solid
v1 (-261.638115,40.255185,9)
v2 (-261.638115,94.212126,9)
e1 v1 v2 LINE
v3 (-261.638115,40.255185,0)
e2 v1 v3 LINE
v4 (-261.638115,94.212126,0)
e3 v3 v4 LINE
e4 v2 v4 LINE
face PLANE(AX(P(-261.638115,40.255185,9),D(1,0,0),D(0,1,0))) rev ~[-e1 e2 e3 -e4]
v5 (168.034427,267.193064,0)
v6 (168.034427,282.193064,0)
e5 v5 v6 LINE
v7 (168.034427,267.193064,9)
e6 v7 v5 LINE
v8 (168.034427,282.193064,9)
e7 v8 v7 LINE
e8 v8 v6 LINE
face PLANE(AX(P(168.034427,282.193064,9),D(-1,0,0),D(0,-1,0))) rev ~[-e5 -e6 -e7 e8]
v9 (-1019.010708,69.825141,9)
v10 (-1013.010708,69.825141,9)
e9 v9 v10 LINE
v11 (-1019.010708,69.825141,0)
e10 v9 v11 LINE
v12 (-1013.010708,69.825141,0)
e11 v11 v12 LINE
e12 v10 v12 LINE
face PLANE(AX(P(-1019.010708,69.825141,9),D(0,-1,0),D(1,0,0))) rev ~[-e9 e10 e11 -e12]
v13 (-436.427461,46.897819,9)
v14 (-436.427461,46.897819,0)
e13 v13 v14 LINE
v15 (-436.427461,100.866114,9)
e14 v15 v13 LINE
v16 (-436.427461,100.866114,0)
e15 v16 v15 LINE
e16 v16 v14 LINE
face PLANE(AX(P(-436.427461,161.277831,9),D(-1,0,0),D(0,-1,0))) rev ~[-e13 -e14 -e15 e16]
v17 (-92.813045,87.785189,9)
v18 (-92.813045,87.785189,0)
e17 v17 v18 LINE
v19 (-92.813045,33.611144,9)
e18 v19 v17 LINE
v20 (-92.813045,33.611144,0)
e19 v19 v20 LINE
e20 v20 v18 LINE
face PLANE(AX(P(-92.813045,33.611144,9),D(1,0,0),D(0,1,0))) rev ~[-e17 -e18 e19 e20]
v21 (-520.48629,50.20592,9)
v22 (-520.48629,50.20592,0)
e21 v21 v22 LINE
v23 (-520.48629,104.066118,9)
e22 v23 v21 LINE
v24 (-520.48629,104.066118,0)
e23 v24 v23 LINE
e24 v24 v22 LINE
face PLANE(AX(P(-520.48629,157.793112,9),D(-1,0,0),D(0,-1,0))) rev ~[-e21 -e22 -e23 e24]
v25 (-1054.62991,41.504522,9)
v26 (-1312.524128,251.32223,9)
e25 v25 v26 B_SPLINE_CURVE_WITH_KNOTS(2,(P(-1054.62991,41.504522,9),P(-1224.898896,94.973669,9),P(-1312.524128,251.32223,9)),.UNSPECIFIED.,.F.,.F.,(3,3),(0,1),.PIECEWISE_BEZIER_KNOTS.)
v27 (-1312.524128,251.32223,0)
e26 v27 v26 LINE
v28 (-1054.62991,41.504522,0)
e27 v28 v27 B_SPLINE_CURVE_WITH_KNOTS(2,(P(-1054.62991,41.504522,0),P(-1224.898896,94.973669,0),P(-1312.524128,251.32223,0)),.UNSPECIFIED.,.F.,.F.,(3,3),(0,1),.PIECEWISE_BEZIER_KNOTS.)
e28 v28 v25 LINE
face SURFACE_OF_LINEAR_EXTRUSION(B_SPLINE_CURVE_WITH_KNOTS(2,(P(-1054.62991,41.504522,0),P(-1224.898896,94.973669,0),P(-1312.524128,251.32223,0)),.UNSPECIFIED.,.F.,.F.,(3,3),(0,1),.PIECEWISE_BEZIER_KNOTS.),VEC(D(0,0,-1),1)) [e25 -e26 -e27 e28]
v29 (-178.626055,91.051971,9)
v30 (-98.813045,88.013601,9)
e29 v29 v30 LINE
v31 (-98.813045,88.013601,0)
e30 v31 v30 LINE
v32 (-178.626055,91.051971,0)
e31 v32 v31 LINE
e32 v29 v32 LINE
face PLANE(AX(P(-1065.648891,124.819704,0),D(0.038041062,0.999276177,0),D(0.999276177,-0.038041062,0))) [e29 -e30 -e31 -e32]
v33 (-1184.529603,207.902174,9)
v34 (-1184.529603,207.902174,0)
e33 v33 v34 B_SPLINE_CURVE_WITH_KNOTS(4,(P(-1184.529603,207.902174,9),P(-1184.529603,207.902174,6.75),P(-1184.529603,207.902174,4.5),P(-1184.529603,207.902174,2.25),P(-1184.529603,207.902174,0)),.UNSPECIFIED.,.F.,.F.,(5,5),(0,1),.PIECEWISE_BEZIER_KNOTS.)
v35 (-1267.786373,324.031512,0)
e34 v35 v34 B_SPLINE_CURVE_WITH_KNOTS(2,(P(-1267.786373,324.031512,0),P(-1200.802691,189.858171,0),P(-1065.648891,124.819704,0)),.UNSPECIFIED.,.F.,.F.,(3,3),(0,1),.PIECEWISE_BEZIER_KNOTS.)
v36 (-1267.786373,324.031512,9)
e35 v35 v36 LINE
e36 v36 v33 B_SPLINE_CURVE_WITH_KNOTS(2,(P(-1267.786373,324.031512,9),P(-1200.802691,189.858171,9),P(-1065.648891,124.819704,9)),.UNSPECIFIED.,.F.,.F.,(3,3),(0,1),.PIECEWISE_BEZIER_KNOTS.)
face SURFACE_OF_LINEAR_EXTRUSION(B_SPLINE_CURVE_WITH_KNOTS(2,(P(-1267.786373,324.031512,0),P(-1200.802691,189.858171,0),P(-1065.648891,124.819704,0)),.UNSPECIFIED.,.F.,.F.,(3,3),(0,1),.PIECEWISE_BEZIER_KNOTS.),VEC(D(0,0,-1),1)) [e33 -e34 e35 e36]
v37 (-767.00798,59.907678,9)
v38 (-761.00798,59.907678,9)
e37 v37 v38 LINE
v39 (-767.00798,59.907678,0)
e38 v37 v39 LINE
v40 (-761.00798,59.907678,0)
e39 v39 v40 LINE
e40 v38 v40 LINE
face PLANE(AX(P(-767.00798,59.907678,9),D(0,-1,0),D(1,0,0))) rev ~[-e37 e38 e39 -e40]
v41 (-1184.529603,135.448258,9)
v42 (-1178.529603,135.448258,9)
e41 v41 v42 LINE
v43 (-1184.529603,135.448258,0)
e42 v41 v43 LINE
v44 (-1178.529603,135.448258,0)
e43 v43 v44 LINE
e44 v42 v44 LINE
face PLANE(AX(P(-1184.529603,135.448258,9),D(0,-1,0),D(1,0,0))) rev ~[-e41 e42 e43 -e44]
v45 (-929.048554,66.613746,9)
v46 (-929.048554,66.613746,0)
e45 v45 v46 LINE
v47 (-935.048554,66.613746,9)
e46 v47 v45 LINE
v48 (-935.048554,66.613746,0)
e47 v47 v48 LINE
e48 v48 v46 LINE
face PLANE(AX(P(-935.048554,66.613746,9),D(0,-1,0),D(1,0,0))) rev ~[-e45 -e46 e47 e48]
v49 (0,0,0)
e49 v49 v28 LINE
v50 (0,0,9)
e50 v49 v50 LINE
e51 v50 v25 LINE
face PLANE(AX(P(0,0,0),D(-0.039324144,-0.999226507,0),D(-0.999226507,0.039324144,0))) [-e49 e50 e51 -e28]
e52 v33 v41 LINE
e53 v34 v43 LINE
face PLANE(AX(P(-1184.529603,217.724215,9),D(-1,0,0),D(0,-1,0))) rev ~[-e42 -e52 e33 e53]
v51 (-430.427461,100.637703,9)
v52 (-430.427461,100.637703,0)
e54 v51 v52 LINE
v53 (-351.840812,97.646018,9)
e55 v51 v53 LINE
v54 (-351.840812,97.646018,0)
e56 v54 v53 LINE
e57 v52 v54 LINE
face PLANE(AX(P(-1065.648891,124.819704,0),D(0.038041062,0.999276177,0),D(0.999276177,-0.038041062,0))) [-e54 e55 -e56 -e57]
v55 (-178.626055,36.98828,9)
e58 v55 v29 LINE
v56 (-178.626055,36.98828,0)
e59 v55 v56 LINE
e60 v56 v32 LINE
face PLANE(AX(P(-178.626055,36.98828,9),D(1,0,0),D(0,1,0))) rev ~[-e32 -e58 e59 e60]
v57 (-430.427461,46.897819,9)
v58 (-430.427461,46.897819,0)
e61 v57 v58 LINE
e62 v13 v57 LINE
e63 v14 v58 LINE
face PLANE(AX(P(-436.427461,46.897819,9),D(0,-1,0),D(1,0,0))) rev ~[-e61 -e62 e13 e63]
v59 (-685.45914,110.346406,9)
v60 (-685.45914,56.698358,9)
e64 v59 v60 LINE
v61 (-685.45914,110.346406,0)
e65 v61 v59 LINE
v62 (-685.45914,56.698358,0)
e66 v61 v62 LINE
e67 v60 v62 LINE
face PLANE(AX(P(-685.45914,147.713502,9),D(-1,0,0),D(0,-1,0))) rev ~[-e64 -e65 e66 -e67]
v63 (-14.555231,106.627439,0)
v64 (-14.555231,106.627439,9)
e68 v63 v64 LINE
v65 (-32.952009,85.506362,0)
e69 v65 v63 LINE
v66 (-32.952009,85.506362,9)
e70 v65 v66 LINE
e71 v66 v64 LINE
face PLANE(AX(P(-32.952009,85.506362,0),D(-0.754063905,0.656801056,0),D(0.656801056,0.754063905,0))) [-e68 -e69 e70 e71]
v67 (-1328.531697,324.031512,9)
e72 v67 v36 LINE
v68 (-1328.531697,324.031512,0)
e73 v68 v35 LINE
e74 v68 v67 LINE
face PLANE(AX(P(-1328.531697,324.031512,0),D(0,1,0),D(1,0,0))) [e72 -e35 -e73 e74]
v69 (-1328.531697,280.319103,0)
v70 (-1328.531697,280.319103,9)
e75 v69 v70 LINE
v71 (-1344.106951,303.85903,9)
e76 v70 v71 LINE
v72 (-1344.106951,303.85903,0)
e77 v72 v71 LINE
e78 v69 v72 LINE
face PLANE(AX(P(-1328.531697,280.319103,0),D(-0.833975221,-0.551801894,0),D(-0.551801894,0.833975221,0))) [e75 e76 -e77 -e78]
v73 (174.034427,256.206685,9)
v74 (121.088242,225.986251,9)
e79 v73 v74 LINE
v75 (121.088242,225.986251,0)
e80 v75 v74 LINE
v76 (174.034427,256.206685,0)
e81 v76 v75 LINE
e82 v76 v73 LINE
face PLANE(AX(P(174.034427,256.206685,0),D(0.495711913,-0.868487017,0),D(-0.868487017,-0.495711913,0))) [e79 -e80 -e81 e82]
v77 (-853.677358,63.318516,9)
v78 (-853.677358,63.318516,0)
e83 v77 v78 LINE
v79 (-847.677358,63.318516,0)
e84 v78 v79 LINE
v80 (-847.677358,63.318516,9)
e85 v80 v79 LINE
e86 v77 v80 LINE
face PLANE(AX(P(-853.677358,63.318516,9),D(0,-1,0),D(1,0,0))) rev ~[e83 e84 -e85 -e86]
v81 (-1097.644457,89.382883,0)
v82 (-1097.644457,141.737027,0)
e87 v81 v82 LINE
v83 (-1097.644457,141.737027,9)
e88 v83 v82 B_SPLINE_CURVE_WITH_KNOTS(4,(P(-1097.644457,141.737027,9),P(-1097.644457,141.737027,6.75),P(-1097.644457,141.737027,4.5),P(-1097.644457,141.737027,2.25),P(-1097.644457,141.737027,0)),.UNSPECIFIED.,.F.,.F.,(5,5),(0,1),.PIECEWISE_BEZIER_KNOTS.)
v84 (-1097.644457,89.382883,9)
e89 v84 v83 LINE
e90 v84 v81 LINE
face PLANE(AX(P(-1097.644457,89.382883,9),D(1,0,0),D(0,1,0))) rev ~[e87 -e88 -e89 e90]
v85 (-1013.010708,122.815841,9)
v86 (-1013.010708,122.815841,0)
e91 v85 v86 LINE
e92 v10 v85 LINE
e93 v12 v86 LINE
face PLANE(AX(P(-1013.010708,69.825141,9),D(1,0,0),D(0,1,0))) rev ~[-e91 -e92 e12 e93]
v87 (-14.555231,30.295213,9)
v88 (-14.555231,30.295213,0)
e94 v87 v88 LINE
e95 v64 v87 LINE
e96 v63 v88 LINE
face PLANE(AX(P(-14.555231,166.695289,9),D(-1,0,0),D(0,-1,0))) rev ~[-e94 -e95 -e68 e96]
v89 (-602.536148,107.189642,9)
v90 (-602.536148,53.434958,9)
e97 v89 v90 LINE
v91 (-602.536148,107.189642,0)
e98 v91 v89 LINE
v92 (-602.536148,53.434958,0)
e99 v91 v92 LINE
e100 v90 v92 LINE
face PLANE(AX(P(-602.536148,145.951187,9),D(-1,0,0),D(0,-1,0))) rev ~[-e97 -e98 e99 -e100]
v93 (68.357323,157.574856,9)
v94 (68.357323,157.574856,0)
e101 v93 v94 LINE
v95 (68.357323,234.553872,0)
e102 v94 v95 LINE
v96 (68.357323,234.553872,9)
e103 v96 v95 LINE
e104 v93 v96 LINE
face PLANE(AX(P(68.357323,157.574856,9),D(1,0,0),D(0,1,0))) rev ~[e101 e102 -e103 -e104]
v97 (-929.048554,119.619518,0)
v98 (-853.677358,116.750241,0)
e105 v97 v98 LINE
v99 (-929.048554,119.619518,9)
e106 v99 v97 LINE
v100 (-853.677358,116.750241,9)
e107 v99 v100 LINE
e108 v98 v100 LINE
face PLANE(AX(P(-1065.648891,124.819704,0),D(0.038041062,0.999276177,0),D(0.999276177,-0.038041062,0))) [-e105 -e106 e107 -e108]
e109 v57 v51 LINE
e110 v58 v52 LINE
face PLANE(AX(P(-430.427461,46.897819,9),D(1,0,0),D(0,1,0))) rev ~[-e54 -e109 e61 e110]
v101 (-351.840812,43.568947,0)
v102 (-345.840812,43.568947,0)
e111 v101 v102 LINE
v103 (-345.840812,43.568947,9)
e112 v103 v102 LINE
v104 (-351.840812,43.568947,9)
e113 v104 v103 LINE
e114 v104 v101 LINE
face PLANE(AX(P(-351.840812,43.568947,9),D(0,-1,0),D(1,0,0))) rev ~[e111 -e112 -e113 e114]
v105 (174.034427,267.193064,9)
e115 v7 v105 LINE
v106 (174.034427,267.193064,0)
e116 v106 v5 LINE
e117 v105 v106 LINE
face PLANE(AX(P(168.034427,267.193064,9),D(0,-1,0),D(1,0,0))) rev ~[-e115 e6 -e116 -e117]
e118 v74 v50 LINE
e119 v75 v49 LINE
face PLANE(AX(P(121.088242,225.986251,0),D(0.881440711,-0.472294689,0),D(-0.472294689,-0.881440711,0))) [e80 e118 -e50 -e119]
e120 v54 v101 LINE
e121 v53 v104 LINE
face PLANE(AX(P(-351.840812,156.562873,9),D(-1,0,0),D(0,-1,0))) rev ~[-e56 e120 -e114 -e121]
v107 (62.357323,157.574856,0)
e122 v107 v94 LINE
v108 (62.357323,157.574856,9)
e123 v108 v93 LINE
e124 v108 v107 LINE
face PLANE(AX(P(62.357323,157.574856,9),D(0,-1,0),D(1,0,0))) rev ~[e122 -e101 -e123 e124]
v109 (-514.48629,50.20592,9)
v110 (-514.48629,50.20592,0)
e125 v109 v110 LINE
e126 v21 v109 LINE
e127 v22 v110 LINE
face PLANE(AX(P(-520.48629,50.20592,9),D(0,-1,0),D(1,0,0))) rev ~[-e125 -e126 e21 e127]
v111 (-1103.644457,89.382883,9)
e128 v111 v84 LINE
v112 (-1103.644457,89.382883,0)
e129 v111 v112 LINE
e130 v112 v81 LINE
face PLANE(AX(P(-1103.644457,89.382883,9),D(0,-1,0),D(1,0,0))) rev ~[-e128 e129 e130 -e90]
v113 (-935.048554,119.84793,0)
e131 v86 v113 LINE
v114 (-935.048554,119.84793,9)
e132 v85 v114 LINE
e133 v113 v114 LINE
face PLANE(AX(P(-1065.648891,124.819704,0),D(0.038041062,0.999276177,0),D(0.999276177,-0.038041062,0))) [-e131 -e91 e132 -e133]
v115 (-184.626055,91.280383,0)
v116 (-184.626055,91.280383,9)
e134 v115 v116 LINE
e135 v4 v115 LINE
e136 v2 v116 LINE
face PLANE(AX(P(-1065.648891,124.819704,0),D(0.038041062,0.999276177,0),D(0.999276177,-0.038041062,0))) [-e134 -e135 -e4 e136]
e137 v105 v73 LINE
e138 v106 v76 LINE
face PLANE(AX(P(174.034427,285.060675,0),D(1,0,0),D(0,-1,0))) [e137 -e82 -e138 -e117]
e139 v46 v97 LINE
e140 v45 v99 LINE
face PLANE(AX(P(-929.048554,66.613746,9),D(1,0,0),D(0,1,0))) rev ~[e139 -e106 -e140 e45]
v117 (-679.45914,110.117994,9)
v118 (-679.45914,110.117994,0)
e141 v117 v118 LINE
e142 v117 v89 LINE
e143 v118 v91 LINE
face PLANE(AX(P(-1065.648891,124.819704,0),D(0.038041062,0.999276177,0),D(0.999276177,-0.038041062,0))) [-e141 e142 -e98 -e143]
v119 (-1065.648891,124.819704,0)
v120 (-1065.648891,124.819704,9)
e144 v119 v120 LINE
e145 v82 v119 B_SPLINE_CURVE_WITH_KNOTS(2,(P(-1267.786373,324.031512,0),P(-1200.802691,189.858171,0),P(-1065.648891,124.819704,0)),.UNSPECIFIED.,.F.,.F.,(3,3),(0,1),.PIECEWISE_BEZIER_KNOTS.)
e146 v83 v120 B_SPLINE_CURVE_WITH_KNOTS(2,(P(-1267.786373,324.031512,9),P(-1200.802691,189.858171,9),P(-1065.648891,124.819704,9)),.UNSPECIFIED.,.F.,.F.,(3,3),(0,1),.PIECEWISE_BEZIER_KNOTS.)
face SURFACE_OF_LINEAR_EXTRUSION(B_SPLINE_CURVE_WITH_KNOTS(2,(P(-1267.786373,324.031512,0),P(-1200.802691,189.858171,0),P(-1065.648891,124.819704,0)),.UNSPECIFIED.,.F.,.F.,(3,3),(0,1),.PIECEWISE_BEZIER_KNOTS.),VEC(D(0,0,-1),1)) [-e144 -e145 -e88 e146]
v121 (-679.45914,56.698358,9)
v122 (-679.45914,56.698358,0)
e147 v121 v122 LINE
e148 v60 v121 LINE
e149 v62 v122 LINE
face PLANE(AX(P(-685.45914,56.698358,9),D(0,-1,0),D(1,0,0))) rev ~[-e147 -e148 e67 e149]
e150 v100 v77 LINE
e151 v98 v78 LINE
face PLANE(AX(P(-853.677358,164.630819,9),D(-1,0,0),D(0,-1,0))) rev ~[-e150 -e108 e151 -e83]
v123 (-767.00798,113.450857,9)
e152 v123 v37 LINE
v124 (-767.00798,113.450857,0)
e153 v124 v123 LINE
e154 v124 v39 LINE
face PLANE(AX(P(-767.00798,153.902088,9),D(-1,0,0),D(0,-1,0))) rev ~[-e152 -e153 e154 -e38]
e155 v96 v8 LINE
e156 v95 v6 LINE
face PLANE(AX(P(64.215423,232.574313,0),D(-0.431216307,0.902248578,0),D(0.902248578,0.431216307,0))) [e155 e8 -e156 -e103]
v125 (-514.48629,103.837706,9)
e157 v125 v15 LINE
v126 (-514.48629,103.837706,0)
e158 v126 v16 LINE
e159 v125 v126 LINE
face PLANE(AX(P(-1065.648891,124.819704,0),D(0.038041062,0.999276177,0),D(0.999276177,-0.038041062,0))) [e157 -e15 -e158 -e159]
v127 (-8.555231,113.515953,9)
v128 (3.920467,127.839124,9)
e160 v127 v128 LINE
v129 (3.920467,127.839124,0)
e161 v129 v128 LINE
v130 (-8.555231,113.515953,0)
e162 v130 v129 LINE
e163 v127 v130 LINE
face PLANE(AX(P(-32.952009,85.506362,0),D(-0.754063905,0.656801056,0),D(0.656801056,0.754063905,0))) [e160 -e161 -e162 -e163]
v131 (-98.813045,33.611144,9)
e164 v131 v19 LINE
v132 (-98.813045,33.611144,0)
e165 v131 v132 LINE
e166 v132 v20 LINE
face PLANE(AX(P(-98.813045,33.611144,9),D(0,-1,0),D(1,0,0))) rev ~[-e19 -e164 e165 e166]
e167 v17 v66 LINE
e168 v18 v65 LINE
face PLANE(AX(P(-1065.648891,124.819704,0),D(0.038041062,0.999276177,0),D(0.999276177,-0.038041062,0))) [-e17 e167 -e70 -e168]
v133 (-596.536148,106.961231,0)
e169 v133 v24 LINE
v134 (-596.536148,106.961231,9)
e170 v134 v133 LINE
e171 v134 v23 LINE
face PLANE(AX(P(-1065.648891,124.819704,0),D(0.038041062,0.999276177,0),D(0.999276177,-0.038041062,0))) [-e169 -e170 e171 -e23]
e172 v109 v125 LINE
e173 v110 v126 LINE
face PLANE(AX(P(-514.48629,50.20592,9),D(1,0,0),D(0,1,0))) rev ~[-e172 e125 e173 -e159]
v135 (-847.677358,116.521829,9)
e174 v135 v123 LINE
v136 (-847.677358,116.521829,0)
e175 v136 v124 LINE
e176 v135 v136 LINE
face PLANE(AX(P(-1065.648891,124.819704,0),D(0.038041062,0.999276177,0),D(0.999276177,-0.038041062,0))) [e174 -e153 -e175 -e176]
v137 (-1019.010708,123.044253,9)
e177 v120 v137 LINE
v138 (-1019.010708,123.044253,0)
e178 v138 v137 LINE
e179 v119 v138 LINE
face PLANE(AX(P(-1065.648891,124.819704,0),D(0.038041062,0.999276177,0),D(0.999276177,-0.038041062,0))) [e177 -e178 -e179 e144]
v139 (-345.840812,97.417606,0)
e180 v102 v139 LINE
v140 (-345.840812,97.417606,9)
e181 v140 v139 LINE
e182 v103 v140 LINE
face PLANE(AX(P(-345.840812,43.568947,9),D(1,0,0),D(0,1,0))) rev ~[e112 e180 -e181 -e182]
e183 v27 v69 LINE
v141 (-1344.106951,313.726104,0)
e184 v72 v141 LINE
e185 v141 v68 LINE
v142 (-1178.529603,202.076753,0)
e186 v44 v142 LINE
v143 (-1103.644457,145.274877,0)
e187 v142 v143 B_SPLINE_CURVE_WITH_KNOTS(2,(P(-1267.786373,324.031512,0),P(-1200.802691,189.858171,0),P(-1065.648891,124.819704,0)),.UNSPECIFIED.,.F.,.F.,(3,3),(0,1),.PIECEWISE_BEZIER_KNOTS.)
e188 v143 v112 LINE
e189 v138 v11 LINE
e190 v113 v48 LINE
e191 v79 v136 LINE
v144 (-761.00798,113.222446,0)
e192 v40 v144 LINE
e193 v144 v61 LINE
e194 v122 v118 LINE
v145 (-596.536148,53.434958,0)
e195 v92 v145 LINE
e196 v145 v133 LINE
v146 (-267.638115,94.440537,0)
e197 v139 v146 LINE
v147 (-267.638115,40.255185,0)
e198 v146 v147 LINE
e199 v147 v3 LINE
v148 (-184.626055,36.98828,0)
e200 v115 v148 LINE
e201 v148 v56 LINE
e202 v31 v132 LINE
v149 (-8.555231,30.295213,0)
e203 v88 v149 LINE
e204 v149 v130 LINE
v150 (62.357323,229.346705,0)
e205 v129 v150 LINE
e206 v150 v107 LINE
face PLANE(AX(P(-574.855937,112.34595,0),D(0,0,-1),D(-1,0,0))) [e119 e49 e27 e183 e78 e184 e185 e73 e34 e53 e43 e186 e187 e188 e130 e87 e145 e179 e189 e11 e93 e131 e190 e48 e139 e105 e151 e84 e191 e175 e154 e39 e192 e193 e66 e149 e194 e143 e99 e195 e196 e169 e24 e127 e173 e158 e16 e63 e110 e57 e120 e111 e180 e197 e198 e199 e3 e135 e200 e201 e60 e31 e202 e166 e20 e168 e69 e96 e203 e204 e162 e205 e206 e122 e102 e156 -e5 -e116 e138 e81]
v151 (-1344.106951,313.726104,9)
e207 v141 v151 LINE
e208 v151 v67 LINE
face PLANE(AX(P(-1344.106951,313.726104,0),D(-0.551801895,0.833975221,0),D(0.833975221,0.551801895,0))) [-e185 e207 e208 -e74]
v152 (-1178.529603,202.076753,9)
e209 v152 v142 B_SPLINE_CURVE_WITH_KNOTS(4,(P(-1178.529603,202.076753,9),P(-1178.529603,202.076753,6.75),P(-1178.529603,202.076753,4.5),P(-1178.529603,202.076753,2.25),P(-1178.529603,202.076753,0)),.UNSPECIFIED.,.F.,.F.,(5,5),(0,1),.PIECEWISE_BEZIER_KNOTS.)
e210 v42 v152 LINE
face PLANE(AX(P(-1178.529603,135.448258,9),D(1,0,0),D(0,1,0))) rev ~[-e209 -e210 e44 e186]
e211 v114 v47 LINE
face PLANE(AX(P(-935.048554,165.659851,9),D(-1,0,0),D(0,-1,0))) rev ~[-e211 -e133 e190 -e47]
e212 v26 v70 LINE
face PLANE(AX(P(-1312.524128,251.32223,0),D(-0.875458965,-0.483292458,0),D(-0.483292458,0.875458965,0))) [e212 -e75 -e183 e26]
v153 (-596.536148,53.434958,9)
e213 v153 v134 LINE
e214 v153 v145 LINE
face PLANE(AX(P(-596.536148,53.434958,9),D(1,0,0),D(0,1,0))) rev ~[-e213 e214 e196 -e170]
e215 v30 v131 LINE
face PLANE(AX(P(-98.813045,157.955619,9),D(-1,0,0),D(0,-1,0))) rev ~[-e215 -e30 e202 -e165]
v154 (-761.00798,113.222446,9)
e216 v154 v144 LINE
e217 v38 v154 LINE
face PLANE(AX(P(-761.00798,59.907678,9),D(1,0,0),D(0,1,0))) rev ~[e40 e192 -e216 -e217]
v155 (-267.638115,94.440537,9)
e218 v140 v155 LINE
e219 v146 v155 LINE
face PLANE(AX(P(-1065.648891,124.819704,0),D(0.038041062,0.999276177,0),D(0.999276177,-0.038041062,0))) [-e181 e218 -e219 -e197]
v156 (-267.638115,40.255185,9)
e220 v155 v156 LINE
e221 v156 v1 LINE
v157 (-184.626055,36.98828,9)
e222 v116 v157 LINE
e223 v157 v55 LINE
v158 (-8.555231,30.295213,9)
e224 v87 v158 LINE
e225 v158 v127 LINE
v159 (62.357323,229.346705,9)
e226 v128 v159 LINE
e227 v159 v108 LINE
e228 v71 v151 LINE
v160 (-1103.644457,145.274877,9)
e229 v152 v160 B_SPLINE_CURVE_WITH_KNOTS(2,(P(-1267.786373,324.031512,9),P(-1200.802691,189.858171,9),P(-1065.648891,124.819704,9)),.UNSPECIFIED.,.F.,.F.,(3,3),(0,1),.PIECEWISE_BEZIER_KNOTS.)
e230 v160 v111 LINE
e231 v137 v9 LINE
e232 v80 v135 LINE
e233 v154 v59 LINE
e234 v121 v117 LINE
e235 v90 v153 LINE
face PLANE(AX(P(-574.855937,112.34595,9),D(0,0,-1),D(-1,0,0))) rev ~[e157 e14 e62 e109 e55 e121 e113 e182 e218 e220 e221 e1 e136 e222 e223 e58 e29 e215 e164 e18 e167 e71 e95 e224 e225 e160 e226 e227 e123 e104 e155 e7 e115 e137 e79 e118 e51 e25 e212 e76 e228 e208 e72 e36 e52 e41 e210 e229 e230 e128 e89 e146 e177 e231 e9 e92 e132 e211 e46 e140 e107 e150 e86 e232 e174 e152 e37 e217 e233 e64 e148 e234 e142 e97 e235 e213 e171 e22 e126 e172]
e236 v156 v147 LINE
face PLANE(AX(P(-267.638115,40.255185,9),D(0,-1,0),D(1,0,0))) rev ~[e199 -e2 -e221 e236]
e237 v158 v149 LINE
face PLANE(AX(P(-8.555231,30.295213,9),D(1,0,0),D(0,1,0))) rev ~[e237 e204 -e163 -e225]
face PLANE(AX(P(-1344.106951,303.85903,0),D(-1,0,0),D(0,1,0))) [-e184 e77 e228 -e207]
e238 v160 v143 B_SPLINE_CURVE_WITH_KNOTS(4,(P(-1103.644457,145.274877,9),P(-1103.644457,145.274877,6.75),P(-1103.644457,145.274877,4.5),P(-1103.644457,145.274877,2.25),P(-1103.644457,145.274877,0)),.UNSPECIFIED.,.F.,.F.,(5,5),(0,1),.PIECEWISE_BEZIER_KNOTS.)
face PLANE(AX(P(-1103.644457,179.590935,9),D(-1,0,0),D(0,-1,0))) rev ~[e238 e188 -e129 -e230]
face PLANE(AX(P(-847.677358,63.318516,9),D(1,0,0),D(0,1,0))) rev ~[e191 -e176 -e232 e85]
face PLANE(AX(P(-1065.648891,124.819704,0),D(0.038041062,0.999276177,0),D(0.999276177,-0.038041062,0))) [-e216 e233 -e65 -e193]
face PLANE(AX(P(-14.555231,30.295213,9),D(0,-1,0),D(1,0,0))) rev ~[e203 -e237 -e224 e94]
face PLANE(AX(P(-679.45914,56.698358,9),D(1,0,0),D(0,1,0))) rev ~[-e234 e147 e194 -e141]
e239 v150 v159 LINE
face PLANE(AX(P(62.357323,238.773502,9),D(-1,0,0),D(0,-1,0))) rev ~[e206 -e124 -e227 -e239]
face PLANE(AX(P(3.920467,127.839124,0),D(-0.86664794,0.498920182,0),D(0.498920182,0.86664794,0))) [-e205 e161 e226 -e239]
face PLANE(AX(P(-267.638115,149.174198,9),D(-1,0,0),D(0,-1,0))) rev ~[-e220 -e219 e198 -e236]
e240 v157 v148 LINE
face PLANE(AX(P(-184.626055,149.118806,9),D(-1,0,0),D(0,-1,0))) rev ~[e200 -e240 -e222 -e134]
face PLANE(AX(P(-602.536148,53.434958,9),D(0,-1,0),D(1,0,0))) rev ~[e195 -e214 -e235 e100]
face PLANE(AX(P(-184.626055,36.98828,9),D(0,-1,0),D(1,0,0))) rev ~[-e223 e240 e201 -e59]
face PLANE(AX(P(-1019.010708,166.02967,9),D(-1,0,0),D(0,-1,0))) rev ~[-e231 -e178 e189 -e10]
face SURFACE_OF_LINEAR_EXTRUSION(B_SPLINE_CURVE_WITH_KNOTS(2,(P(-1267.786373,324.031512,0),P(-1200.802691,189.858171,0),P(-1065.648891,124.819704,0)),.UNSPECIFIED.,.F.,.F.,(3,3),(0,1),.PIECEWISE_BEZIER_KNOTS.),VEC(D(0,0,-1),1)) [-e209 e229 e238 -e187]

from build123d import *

# Parameters (mm, degrees)
BOSS_EXTRU_2_DEPTH      = 9
ENL_V_MAT_EXTRU_2_DEPTH = 9
ENL_V_MAT_EXTRU_3_DEPTH = 10


with BuildPart() as part:
    # Esquisse2 → Boss.-Extru.2 (new body)
    with BuildSketch(Plane.XY):
        with BuildLine():
            Line((0, 0), (-1054.629910096, 41.504522095))
            add(Edge.make_bspline(
                [(-1054.629910096, 41.504522095), (-1224.898895692, 94.973668649), (-1312.524127552, 251.32222999)],
                knots=[0, 0, 0, 1, 1, 1], degree=2))
            Line((-1312.524127552, 251.32222999), (-1328.531696794, 280.319102935))
            Line((-1328.531696794, 280.319102935), (-1344.106951464, 303.85903019))
            Line((-1344.106951464, 303.85903019), (-1344.106951464, 313.726103663))
            Line((-1344.106951464, 313.726103663), (-1328.531696794, 324.031511808))
            Line((-1328.531696794, 324.031511808), (-1267.786373333, 324.031511808))
            add(Edge.make_bspline(
                [(-1267.786373333, 324.031511808), (-1200.802691061, 189.858171363), (-1065.648891226, 124.819703679)],
                knots=[0, 0, 0, 1, 1, 1], degree=2))
            Line((-1065.648891226, 124.819703679), (-32.952008593, 85.506361999))
            Line((-32.952008593, 85.506361999), (3.920466967, 127.83912423))
            Line((3.920466967, 127.83912423), (64.215422919, 232.574312779))
            Line((64.215422919, 232.574312779), (174.034427263, 285.060674799))
            Line((174.034427263, 285.060674799), (174.034427263, 256.206685378))
            Line((174.034427263, 256.206685378), (121.088242371, 225.986251341))
            Line((121.088242371, 225.986251341), (0, 0))
        make_face()
    extrude(amount=BOSS_EXTRU_2_DEPTH)

    # Esquisse4 → Enlèv. mat.-Extru.2 (cut)
    with BuildSketch(Plane.XY.offset(9)):
        Polygon((-1184.529602798, 217.724215408), (-1184.529602798, 135.448257781), (-1178.529602798, 135.448257781), (-1178.529602798, 209.090265158), (-1144.70133954, 205.492785887), (-1103.644457427, 179.590935136), (-1103.644457427, 89.382882562), (-1097.644457427, 89.382882562), (-1097.644457427, 179.446129165), (-1058.771084869, 193.19166203), (-1019.010707999, 166.029669526), (-1019.010707999, 69.825141164), (-1013.010707999, 69.825141164), (-1013.010707999, 171.757290266), (-976.159938867, 178.961810764), (-935.048554391, 165.659851123), (-935.048554391, 66.613746424), (-929.048554391, 66.613746424), (-929.048554391, 168.626007321), (-899.191490776, 176.533293355), (-853.677357938, 164.630819251), (-853.677357938, 63.31851584), (-847.677357938, 63.31851584), (-847.677357938, 162.817540503), (-811.471381442, 172.717047921), (-767.007980127, 153.902087887), (-767.007980127, 59.907678473), (-761.007980127, 59.907678473), (-761.007980127, 158.835177903), (-728.976717682, 166.128230874), (-685.459139962, 147.713501876), (-685.459139962, 56.698357737), (-679.459139962, 56.698357737), (-679.459139962, 154.327101163), (-649.905537681, 165.9958335), (-602.536147946, 145.951186705), (-602.536147946, 53.434957827), (-596.536147946, 53.434957827), (-596.536147946, 161.072273499), (-555.59381923, 172.649077058), (-520.486290487, 157.793111688), (-520.486290487, 50.205919764), (-514.486290487, 50.205919764), (-514.486290487, 160.41177098), (-480.664688329, 172.846379378), (-436.427460908, 161.277830864), (-436.427460908, 46.897819438), (-430.427460908, 46.897819438), (-430.427460908, 158.641730929), (-395.32870164, 170.633772463), (-351.840812464, 156.56287327), (-351.840812464, 43.56894702), (-345.840812464, 43.56894702), (-345.840812464, 155.107643224), (-308.077421895, 166.28633821), (-267.638115004, 149.174198328), (-267.638115004, 40.255184833), (-261.638115004, 40.255184833), (-261.638115004, 153.983543807), (-221.709640224, 161.11753493), (-184.626054736, 149.118806019), (-184.626054736, 36.988279678), (-178.626054736, 36.988279678), (-178.626054736, 151.239542378), (-139.271820507, 168.536058377), (-98.813045081, 157.955618923), (-98.813045081, 33.611144324), (-92.813045081, 33.611144324), (-92.813045081, 160.511283345), (-14.555231491, 166.695289229), (-14.555231491, 30.295213064), (-8.555231491, 30.295213064), (-8.555231491, 161.111803569), (0.41457384, 188.834118596), (62.357322712, 238.773502267), (62.357322712, 157.574856228), (68.357322712, 157.574856228), (68.357322712, 244.567559026), (-1159.810752478, 244.345562012), align=None)
    extrude(amount=-ENL_V_MAT_EXTRU_2_DEPTH, mode=Mode.SUBTRACT)

    # Esquisse5 → Enlèv. mat.-Extru.3 (cut)
    with BuildSketch(Plane.XY.offset(9)):
        Polygon((168.034427263, 282.193063915), (168.034427263, 267.193063915), (174.034427263, 267.193063915), (199.390837842, 261.800934677), (195.304614358, 289.974370277), (176.522323958, 289.61592962), align=None)
    extrude(amount=-ENL_V_MAT_EXTRU_3_DEPTH, mode=Mode.SUBTRACT)


solid = part.part
